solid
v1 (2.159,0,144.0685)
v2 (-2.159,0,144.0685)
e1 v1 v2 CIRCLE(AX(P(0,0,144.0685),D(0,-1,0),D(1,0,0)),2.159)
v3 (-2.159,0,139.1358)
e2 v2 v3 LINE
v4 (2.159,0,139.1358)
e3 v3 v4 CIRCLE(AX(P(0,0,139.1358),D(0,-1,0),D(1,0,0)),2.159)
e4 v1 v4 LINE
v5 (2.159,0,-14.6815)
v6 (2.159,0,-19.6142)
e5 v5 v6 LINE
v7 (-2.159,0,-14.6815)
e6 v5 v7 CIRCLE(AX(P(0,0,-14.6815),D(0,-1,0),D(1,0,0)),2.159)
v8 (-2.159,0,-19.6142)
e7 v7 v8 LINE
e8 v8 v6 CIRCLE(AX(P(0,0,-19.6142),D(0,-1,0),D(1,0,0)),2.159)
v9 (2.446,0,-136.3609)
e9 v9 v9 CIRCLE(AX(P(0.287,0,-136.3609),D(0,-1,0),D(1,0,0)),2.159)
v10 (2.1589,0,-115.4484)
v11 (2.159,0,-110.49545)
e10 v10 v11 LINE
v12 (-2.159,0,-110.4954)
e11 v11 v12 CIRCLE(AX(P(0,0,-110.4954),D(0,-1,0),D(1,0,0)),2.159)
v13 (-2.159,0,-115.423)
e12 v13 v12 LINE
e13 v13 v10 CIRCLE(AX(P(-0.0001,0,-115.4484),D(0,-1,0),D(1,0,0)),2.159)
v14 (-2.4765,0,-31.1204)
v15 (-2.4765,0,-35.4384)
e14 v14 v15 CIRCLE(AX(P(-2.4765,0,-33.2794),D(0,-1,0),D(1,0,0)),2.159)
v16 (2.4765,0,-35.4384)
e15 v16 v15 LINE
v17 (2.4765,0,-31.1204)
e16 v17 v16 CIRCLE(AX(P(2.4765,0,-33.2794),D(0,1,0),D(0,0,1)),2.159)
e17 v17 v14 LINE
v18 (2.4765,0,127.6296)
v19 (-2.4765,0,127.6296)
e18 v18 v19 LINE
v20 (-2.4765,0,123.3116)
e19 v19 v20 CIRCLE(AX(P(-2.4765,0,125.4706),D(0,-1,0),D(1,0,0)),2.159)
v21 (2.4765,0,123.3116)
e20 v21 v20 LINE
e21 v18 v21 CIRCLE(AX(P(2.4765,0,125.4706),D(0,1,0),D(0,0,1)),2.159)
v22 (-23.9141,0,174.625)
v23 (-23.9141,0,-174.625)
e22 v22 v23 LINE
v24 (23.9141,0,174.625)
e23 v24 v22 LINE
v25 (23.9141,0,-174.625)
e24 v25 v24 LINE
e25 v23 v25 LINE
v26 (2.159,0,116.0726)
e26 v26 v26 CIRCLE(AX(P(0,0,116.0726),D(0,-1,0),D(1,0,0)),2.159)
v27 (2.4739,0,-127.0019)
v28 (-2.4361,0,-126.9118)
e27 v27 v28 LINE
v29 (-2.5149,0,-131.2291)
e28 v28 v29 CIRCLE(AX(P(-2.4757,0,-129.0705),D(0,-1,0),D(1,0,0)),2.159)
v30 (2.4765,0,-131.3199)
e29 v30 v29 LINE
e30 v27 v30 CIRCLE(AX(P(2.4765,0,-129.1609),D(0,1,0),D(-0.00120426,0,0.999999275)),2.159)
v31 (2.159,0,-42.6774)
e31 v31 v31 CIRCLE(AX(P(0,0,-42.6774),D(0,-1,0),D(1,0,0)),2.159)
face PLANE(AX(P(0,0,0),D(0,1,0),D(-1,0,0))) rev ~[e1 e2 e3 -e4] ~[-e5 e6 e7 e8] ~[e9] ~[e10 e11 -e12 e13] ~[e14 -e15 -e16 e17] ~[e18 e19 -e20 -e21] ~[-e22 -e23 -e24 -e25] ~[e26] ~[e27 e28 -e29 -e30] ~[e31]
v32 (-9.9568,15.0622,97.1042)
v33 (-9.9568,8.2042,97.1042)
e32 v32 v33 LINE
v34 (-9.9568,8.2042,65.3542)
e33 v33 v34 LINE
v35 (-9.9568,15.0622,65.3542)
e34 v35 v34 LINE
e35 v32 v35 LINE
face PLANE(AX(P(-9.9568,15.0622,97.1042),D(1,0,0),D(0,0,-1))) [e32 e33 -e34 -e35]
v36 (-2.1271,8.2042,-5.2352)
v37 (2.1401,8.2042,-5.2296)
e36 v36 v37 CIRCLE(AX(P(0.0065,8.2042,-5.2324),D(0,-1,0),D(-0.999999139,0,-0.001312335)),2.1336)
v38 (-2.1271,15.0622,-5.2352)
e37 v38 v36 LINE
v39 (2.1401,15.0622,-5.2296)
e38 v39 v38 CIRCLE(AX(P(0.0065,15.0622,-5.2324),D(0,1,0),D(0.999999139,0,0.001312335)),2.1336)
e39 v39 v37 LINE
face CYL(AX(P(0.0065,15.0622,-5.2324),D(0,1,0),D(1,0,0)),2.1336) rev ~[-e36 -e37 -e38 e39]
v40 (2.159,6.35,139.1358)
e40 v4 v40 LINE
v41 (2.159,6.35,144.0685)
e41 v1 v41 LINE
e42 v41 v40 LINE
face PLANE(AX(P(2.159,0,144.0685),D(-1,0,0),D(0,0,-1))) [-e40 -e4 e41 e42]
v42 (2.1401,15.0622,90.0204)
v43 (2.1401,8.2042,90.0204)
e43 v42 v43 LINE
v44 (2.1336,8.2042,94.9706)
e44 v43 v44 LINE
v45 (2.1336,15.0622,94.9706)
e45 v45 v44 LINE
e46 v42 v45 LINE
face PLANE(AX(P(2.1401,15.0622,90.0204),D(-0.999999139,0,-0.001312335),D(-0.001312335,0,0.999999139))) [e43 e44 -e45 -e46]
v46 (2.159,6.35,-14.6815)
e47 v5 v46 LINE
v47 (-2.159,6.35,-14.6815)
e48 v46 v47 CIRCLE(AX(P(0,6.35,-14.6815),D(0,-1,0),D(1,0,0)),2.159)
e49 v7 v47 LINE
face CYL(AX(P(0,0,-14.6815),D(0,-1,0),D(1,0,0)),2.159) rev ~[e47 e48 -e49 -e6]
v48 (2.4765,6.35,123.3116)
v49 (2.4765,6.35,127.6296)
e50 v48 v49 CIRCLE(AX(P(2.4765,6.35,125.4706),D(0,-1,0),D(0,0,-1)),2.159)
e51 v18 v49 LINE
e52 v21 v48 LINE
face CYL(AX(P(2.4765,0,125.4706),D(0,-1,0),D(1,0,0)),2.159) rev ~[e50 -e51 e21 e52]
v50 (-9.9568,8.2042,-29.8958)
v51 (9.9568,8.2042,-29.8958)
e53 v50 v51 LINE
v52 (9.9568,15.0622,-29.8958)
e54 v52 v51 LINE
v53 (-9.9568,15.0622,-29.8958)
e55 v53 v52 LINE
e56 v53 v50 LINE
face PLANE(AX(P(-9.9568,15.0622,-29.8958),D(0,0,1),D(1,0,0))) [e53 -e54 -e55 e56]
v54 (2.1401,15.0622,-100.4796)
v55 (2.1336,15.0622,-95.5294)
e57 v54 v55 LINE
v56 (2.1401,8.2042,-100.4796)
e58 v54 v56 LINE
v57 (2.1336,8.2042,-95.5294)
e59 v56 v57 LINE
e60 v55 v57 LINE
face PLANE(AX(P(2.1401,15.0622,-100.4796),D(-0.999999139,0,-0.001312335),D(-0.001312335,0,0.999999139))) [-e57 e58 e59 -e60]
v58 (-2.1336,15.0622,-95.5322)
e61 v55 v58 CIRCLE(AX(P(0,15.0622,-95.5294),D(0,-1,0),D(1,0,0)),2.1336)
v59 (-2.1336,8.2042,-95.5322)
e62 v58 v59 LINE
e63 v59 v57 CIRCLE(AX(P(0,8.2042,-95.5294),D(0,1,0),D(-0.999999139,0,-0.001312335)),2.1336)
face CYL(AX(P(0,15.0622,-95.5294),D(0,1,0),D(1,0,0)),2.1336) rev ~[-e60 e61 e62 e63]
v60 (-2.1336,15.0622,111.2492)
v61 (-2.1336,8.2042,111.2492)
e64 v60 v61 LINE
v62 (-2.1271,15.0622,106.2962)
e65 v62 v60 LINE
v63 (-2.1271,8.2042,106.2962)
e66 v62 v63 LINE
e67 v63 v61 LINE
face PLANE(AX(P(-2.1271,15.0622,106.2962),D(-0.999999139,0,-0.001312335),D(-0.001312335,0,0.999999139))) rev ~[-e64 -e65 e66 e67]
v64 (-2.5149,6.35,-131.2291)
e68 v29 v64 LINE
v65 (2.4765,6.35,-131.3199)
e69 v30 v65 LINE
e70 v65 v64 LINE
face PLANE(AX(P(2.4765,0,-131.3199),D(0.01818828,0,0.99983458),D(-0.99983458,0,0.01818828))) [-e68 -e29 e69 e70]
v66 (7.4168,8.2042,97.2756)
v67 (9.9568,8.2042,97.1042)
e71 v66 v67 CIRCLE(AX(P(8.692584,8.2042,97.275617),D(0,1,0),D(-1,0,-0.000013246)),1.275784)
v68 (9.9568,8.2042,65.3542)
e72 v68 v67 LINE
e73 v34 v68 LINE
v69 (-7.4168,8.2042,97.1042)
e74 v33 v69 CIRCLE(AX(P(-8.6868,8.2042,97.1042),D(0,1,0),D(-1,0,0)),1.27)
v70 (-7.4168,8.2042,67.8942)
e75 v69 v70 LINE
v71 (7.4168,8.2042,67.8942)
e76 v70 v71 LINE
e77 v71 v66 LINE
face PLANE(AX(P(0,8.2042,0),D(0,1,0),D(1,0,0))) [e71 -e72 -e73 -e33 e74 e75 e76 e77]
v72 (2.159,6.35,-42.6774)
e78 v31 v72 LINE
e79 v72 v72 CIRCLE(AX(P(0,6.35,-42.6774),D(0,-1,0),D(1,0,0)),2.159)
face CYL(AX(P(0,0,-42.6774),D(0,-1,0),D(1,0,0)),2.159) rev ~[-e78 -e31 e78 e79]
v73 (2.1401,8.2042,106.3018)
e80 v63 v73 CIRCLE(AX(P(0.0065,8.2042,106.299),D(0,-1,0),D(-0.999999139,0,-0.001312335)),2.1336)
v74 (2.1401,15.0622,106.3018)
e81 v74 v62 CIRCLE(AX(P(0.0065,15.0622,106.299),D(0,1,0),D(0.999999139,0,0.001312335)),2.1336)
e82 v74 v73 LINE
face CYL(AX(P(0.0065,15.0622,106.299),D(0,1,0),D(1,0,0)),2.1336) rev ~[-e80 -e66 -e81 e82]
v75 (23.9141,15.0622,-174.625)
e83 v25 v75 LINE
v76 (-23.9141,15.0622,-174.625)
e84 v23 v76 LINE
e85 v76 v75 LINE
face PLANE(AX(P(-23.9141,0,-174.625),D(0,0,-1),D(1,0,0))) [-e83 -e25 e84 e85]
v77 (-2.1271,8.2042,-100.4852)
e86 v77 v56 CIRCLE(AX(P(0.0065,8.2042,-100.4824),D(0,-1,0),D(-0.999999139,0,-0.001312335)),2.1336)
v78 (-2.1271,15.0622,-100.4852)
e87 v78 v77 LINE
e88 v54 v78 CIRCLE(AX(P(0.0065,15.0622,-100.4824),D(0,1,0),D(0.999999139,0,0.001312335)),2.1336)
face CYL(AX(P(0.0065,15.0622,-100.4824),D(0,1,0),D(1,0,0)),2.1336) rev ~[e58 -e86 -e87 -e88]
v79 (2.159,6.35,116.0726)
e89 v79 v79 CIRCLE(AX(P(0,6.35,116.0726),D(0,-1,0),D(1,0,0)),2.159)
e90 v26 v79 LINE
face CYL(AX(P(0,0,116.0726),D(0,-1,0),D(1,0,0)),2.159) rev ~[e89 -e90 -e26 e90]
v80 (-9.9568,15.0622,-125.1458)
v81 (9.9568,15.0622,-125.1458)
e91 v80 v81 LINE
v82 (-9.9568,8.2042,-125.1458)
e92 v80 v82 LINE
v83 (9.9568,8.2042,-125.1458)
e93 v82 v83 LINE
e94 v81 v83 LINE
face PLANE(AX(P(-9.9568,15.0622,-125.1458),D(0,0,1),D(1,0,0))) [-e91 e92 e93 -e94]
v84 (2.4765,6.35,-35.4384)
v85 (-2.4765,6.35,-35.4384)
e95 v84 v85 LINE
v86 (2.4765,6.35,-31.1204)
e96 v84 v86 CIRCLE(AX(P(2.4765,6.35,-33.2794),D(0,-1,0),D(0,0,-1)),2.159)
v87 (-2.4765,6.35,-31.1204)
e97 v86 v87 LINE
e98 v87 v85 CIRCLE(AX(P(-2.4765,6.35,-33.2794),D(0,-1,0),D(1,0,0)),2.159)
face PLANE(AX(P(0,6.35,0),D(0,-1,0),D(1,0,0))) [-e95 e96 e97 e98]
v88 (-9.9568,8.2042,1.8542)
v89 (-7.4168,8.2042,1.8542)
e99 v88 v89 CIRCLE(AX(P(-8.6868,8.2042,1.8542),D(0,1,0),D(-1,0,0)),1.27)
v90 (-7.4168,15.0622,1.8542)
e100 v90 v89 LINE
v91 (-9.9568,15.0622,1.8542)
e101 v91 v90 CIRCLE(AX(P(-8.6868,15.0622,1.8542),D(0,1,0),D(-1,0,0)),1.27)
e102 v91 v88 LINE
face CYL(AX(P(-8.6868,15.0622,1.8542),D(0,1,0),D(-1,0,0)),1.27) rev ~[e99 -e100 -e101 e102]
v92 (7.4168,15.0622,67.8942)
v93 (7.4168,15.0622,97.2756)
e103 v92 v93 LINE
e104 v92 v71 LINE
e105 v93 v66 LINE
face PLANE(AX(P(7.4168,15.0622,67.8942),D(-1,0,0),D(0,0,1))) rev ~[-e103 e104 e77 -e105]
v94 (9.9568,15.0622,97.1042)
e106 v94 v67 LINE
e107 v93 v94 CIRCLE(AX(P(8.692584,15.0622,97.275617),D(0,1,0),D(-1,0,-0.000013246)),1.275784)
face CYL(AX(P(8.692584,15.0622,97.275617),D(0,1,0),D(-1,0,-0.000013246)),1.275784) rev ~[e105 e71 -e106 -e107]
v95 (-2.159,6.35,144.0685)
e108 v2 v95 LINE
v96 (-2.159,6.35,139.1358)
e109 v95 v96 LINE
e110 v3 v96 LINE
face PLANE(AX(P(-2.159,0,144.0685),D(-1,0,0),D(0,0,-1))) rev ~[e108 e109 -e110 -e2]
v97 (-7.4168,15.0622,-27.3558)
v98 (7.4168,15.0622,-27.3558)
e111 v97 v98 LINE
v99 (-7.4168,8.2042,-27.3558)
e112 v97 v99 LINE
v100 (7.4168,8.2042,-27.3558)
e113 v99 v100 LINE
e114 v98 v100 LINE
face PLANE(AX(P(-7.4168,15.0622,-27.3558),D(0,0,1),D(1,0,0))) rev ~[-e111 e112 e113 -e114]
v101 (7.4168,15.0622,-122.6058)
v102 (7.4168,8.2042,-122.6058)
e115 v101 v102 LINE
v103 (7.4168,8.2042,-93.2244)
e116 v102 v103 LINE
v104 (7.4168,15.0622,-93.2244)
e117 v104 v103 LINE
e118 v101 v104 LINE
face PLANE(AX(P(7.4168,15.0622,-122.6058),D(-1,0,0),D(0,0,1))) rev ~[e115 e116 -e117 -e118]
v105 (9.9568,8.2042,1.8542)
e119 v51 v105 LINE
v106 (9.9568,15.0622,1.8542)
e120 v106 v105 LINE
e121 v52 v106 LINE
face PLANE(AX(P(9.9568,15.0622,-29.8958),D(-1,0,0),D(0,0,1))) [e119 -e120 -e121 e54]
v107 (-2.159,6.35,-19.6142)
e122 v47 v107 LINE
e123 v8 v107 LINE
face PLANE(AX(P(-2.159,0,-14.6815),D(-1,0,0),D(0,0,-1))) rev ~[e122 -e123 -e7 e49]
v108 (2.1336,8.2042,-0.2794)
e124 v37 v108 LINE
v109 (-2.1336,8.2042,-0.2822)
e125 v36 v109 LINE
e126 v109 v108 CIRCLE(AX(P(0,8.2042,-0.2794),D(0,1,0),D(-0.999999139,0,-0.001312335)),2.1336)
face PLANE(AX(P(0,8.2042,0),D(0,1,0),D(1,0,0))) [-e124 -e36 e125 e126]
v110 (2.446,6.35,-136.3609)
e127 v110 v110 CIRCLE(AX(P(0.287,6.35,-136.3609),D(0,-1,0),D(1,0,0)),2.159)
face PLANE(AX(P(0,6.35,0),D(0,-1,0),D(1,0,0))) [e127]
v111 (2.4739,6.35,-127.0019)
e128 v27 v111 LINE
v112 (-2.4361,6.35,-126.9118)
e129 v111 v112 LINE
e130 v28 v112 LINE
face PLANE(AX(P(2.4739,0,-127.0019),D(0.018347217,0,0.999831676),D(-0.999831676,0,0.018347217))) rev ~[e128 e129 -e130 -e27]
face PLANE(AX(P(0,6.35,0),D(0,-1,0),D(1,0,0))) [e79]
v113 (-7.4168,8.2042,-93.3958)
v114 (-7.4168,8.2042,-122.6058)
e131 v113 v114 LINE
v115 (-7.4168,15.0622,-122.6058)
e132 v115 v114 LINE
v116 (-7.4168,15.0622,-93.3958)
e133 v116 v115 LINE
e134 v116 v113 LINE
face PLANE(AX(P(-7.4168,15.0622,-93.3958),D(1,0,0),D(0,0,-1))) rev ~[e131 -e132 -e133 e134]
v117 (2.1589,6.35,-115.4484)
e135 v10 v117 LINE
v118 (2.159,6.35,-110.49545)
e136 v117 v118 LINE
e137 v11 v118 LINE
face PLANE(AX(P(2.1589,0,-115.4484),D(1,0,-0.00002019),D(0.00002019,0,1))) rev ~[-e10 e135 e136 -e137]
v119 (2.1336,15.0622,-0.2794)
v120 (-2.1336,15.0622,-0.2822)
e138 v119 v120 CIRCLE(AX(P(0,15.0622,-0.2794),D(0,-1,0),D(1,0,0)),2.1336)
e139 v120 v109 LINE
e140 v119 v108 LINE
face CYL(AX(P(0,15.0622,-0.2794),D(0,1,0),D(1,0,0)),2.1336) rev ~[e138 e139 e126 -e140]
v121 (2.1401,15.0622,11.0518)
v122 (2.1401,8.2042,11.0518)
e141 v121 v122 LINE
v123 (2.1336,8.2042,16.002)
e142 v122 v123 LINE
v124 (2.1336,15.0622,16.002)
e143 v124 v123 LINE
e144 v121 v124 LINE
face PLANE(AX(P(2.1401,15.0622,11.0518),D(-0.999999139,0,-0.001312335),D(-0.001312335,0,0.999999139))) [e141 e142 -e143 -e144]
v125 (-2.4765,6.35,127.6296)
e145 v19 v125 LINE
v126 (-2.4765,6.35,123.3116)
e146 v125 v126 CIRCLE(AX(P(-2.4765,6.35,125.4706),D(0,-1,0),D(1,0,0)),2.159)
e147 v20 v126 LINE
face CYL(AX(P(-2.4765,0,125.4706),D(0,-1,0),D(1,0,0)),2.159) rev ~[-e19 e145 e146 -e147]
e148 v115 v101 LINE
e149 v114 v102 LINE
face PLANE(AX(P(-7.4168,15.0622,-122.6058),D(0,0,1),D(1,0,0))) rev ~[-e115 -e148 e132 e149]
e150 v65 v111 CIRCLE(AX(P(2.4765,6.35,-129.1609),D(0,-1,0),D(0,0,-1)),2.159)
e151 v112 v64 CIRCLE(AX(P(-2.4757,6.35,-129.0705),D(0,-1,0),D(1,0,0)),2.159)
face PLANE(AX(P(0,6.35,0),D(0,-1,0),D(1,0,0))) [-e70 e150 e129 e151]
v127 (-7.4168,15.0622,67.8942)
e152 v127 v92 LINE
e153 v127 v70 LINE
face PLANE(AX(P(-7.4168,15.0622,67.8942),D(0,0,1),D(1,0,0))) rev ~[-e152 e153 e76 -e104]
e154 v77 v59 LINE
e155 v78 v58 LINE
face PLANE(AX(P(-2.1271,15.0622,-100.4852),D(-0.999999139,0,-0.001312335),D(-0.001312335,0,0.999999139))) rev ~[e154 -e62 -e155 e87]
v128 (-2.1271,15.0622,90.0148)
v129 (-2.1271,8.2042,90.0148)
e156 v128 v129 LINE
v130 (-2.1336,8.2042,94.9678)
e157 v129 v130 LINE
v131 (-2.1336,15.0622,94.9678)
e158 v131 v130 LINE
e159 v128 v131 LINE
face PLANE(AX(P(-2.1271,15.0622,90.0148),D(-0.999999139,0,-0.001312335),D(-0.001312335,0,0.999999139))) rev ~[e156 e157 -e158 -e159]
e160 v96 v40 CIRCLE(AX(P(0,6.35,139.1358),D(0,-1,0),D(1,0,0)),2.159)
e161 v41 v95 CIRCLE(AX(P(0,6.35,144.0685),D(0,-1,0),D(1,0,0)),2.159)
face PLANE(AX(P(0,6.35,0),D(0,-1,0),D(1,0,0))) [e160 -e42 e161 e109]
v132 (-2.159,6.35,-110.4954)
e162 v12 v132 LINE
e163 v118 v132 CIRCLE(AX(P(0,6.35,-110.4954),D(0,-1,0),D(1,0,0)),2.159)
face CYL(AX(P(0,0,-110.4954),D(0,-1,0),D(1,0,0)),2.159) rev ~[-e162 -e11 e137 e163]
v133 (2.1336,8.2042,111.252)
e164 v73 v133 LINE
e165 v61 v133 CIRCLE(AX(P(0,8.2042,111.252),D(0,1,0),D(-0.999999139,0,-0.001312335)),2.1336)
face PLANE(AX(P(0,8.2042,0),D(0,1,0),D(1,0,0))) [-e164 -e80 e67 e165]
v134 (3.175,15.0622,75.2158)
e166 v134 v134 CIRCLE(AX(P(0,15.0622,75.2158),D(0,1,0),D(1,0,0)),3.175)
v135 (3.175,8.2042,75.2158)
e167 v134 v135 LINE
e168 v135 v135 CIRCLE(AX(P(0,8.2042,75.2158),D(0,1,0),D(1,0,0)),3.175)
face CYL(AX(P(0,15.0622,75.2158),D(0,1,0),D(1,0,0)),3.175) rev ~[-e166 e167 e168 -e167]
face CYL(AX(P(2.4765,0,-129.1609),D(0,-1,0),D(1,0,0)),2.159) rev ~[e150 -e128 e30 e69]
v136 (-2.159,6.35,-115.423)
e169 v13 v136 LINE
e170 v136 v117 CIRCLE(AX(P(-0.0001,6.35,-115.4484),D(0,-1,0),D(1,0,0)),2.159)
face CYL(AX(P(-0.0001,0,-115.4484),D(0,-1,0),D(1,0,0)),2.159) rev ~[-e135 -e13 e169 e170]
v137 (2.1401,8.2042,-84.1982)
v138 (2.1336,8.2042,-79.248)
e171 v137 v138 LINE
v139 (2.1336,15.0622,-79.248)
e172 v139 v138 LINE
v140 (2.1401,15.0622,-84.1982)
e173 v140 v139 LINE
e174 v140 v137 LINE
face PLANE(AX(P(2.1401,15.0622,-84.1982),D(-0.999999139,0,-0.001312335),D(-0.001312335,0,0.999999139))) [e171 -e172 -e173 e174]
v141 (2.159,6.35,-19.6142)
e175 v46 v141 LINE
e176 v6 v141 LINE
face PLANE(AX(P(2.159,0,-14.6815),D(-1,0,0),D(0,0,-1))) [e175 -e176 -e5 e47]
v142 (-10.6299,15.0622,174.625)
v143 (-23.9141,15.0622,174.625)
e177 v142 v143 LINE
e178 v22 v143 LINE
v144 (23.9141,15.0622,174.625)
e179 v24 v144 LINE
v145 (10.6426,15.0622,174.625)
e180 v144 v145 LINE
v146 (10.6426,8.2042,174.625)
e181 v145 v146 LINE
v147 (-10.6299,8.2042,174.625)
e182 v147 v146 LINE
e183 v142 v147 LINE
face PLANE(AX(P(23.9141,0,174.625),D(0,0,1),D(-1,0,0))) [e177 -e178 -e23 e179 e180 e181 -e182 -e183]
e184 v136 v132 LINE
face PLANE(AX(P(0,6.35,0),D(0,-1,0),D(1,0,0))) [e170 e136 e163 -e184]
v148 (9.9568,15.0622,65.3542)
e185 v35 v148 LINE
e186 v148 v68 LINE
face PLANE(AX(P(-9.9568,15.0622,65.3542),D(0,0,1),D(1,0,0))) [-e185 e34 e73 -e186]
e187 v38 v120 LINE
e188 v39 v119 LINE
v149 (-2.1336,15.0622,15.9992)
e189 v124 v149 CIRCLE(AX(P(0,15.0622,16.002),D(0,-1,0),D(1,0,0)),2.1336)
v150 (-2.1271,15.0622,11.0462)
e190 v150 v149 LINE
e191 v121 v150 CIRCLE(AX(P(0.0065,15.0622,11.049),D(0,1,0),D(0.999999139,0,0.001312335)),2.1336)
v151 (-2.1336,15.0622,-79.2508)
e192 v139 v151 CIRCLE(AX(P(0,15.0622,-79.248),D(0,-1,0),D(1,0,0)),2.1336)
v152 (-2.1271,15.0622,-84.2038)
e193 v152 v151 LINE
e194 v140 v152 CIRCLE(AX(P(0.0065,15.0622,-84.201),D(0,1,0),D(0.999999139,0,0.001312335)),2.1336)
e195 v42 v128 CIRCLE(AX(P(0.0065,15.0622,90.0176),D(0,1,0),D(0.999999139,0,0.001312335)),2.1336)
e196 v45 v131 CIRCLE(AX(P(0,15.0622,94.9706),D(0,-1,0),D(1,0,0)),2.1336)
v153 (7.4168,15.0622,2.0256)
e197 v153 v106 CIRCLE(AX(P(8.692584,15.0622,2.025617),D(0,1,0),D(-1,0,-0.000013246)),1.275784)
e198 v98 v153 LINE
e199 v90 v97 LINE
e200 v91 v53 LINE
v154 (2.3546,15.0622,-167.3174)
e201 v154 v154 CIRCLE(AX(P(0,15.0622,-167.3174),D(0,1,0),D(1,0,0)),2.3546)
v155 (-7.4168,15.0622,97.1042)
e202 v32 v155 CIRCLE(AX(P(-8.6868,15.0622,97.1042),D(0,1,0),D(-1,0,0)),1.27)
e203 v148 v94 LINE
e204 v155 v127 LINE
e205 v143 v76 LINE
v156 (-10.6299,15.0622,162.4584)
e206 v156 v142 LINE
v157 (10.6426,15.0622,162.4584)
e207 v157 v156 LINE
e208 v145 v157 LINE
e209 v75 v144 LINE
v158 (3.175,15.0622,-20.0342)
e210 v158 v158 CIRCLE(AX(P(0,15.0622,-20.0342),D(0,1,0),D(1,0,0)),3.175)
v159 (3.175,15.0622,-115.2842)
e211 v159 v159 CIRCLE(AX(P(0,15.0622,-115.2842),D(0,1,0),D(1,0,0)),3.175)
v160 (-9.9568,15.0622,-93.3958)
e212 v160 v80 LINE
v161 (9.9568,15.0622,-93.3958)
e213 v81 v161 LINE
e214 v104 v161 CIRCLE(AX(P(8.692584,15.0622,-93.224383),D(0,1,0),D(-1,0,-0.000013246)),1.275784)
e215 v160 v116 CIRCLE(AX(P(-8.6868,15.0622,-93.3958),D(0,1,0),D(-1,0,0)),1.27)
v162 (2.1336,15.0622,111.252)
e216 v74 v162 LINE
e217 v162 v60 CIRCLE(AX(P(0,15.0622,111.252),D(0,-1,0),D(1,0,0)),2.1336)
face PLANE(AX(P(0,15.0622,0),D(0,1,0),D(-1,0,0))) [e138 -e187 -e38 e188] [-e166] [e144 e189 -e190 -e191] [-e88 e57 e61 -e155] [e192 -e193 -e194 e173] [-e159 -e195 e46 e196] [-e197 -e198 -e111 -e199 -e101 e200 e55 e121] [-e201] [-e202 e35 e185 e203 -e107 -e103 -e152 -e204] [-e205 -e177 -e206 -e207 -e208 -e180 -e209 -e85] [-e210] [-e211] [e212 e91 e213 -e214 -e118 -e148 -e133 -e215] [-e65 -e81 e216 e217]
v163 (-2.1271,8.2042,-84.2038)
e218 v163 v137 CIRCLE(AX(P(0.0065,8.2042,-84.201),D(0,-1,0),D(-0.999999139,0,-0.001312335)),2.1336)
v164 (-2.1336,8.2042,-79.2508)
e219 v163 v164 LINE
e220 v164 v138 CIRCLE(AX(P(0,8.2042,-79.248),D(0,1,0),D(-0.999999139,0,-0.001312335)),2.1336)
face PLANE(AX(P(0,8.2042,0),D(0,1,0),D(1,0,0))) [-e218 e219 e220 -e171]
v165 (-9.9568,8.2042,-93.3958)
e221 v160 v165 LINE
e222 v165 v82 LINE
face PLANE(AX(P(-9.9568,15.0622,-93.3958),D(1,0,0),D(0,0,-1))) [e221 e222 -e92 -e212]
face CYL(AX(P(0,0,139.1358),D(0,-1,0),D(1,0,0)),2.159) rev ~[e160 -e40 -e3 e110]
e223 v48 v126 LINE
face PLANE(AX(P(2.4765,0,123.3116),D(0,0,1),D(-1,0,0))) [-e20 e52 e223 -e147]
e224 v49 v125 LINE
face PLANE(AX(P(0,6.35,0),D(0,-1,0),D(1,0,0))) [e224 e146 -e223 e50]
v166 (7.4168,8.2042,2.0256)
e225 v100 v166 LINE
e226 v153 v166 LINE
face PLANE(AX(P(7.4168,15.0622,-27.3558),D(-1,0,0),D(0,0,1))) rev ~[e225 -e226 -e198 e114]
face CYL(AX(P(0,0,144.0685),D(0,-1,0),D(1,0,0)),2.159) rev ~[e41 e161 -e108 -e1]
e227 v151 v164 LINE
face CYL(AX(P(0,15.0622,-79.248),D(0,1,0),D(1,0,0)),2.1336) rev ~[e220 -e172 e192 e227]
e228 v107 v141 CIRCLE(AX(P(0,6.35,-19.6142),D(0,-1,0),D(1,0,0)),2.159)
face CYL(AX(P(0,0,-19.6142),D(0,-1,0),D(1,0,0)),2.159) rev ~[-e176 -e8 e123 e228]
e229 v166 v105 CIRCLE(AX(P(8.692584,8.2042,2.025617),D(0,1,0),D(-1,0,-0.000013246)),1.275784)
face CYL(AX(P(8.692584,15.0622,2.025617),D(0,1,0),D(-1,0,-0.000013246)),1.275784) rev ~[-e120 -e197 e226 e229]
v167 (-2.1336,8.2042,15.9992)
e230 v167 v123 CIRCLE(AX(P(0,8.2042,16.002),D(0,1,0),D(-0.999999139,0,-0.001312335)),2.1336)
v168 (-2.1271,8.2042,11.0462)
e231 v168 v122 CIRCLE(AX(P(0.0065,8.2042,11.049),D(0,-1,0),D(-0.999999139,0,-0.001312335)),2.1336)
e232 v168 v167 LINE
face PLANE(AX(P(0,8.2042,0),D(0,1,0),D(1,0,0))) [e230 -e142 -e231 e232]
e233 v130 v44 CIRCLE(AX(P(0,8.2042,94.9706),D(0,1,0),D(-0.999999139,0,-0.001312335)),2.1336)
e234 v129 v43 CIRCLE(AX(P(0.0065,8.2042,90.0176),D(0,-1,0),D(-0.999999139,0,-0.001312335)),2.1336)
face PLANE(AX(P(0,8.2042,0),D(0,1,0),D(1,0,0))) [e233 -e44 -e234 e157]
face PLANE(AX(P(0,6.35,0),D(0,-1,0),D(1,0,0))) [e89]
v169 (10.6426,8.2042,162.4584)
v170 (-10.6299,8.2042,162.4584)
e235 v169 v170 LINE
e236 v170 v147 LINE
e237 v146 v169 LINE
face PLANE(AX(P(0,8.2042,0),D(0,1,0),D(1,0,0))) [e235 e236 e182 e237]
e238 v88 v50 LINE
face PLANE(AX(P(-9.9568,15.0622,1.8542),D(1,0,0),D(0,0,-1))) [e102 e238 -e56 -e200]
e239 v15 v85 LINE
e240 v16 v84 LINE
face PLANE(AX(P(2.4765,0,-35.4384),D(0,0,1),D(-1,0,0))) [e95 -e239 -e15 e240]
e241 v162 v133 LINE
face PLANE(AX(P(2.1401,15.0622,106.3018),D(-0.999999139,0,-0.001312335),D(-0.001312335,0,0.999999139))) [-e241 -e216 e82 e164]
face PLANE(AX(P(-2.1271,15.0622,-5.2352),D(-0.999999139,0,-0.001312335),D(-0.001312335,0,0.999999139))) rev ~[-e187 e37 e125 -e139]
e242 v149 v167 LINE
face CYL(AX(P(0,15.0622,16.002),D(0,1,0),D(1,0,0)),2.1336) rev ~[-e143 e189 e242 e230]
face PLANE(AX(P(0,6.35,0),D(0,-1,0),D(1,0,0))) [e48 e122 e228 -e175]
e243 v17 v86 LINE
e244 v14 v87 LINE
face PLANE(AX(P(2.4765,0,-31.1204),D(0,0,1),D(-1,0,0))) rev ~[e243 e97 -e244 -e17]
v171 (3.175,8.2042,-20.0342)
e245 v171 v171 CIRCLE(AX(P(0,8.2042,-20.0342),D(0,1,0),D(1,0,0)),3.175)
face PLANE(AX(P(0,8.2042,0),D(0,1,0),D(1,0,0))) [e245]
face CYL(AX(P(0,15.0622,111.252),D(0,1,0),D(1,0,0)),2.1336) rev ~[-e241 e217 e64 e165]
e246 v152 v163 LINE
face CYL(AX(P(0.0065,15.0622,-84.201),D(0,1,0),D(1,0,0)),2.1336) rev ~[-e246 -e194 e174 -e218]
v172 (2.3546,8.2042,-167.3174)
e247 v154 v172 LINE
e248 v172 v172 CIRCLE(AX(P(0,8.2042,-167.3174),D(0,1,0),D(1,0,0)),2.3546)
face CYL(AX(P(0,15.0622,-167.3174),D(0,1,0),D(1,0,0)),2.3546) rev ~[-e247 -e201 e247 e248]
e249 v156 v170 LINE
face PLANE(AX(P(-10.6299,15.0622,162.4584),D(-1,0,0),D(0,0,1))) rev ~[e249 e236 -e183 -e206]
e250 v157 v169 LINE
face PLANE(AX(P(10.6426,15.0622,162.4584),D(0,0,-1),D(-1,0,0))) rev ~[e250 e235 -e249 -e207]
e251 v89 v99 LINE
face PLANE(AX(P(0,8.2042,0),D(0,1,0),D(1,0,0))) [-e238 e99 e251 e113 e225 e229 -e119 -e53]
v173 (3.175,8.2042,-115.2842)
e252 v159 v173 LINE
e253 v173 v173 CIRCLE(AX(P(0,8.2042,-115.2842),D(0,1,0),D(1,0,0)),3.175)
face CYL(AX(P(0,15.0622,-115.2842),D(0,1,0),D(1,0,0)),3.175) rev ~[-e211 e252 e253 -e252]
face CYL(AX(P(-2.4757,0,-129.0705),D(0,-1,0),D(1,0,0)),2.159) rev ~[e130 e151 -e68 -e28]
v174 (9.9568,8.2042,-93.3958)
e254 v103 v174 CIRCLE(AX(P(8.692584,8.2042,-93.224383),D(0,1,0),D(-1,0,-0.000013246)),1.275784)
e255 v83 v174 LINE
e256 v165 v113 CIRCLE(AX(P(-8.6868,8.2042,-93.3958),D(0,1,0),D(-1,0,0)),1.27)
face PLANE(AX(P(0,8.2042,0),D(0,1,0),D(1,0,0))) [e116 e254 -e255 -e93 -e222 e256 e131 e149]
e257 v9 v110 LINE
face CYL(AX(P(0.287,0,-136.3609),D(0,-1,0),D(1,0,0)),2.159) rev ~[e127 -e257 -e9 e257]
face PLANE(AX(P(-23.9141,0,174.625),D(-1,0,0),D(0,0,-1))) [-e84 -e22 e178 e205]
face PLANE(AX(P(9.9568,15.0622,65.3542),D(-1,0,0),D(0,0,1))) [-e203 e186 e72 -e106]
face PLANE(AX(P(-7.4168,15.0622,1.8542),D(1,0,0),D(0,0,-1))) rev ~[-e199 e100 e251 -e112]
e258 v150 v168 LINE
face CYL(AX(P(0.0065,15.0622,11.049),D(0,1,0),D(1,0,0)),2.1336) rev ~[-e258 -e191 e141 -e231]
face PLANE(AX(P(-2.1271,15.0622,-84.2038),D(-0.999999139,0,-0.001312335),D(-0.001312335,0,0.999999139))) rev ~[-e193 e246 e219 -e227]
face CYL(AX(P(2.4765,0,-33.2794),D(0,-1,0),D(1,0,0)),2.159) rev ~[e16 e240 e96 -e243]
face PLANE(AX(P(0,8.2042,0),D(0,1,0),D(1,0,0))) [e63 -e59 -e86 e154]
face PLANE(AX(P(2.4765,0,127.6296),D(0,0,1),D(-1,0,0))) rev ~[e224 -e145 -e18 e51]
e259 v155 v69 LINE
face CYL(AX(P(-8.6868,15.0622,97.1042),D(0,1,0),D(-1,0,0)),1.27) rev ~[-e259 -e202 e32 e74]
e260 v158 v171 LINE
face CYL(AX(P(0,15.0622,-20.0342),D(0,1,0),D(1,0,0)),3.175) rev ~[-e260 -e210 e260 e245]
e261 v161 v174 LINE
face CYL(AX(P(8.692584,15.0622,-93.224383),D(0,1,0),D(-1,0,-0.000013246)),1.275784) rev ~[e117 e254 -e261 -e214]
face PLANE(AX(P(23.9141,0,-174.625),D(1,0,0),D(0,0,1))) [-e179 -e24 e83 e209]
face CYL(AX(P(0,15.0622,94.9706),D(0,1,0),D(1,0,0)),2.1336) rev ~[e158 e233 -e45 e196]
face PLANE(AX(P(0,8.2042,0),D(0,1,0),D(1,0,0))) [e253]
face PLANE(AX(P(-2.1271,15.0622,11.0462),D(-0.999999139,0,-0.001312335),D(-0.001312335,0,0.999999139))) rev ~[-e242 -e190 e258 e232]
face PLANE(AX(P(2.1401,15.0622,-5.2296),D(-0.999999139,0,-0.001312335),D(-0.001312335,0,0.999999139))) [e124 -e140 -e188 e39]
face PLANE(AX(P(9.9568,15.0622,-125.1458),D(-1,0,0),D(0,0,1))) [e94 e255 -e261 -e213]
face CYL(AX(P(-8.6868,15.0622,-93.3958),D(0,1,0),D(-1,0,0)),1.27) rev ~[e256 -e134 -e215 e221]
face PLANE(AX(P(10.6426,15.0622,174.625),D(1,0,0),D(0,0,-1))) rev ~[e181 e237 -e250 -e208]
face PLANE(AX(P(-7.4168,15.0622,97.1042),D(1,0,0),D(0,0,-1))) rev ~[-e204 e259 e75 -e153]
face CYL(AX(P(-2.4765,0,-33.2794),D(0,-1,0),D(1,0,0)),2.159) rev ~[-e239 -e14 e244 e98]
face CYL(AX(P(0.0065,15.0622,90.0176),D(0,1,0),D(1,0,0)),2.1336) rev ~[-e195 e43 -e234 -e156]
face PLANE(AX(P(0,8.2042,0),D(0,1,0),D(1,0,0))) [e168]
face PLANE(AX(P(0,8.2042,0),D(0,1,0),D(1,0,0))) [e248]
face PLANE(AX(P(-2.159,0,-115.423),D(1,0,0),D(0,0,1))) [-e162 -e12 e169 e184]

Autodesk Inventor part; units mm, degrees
ref_plane "YZ Plane" through (0, 0, 0) normal (1, 0, 0) x (0, 1, 0)
ref_plane "XZ Plane" through (0, 0, 0) normal (0, 1, 0) x (-1, 0, 0)
ref_plane "XY Plane" through (0, 0, 0) normal (0, 0, 1) x (1, 0, 0)
sketch "Sketch1" plane through (0, 0, 0) normal (0, 1, 0) x (-1, 0, 0)
  line L0 (-23.9141, 174.625) -> (23.9141, 174.625)
  line L1 (23.9141, 174.625) -> (23.9141, -174.625)
  line L2 (23.9141, -174.625) -> (-23.9141, -174.625)
  line L3 (-23.9141, -174.625) -> (-23.9141, 174.625)
  line L4 (-23.9141, 174.625) -> (23.9141, -174.625) construction
  line L5 (23.9141, 174.625) -> (-23.9141, -174.625) construction
  point P0 (0, 0)
  dimension "d0" = 47.8282
  dimension "d1" = 349.25
extrude "Extrusion1" add sketch "Sketch1" along normal blind 15.0622
sketch "Sketch2" plane through (0, 15.0622, 0) normal (0, 1, 0) x (1, 0, 0)
  line L0 (-10.6299, -174.625) -> (10.6426, -174.625)
  line L1 (10.6426, -174.625) -> (10.6426, -162.4584)
  line L2 (10.6426, -162.4584) -> (-10.6299, -162.4584)
  line L3 (-10.6299, -162.4584) -> (-10.6299, -174.625)
  line L4 (-23.9141, -174.625) -> (23.9141, -174.625) projected
  line L5 (-23.9141, 174.625) -> (-23.9141, -174.625) projected
  point P0 (0, 0)
  point P1 (0, -132.6268)
  dimension "d4" = 21.2725
  dimension "d5" = 12.1666
  dimension "d6" = 13.2842
  dimension "d7" = 23.9141
extrude "Extrusion2" cut sketch "Sketch2" against normal blind 6.858
sketch "Sketch3" plane through (0, 15.0622, 0) normal (0, 1, 0) x (1, 0, 0)
  circle A0 centre (0, -111.252) radius 2.1336
  line L0 (-10.6299, -162.4584) -> (10.6426, -162.4584) projected
  circle A1 centre (0.0065, -106.299) radius 2.1336
  line L1 (-2.1271, -106.2962) -> (-2.1336, -111.2492)
  line L2 (2.1401, -106.3018) -> (2.1336, -111.2548)
  line L3 (0.0064, -93.8649) -> (0.0064, -74.1654) construction
  circle A2 centre (0, -94.9706) radius 2.1336
  circle A3 centre (0.0065, -90.0176) radius 2.1336
  line L4 (-2.1271, -90.0148) -> (-2.1336, -94.9678)
  line L5 (2.1401, -90.0204) -> (2.1336, -94.9734)
  circle A4 centre (0, -16.002) radius 2.1336
  circle A5 centre (0.0065, -11.049) radius 2.1336
  line L6 (-2.1271, -11.0462) -> (-2.1336, -15.9992)
  line L7 (2.1401, -11.0518) -> (2.1336, -16.0048)
  circle A6 centre (0, 0.2794) radius 2.1336
  circle A7 centre (0.0065, 5.2324) radius 2.1336
  line L8 (-2.1271, 5.2352) -> (-2.1336, 0.2822)
  line L9 (2.1401, 5.2296) -> (2.1336, 0.2766)
  circle A8 centre (0, 79.248) radius 2.1336
  circle A9 centre (0.0065, 84.201) radius 2.1336
  line L10 (-2.1271, 84.2038) -> (-2.1336, 79.2508)
  line L11 (2.1401, 84.1982) -> (2.1336, 79.2452)
  circle A10 centre (0, 95.5294) radius 2.1336
  circle A11 centre (0.0065, 100.4824) radius 2.1336
  line L12 (-2.1271, 100.4852) -> (-2.1336, 95.5322)
  line L13 (2.1401, 100.4796) -> (2.1336, 95.5266)
  point P0 (0, 0)
  point P1 (0.0064, 1.3851)
  point P2 (0.0064, 96.6351)
  dimension "d10" = 4.2672
  dimension "d11" = 51.2064
  dimension "d12" = 4.2672
  dimension "d13" = 9.2202
  dimension "d18" = 16.2814
  dimension "d34" = 95.25
sketch "Sketch4" plane through (0, 15.0622, 0) normal (0, 1, 0) x (1, 0, 0)
  line L0 (-9.9568, -97.1042) -> (-9.9568, -65.3542)
  line L1 (-9.9568, -65.3542) -> (9.9568, -65.3542)
  line L2 (9.9568, -65.3542) -> (9.9568, -97.1042)
  arc A0 (-2.1336, -111.2492) -> (2.1336, -111.2548) centre (0, -111.252) ccw construction
  line L3 (-7.4168, -97.1042) -> (-7.4168, -67.8942)
  line L4 (-7.4168, -67.8942) -> (7.4168, -67.8942)
  line L5 (7.4168, -67.8942) -> (7.4168, -97.2756)
  line L6 (-16.8514, -97.1042) -> (16.8246, -97.1042) construction
  arc A1 (-2.1336, -94.9678) -> (2.1336, -94.9734) centre (0, -94.9706) ccw construction
  arc A2 (-9.9568, -97.1042) -> (-7.4168, -97.1042) centre (-8.6868, -97.1042) ccw
  arc A3 (7.4168, -97.2756) -> (9.9568, -97.1042) centre (8.6926, -97.2756) ccw
  circle A4 centre (0, -75.2158) radius 3.175
  line L7 (0, 24.1867) -> (0, 36.4789) construction
  arc A5 (-9.9568, -1.8542) -> (-7.4168, -1.8542) centre (-8.6868, -1.8542) ccw
  arc A6 (7.4168, -2.0256) -> (9.9568, -1.8542) centre (8.6926, -2.0256) ccw
  circle A7 centre (0, 20.0342) radius 3.175
  line L8 (-7.4168, -1.8542) -> (-7.4168, 27.3558)
  line L9 (7.4168, 27.3558) -> (7.4168, -2.0256)
  line L10 (-7.4168, 27.3558) -> (7.4168, 27.3558)
  line L11 (-9.9568, 29.8958) -> (9.9568, 29.8958)
  line L12 (9.9568, 29.8958) -> (9.9568, -1.8542)
  line L13 (-9.9568, -1.8542) -> (-9.9568, 29.8958)
  arc A8 (-9.9568, 93.3958) -> (-7.4168, 93.3958) centre (-8.6868, 93.3958) ccw
  arc A9 (7.4168, 93.2244) -> (9.9568, 93.3958) centre (8.6926, 93.2244) ccw
  circle A10 centre (0, 115.2842) radius 3.175
  line L14 (-7.4168, 93.3958) -> (-7.4168, 122.6058)
  line L15 (7.4168, 122.6058) -> (7.4168, 93.2244)
  line L16 (-7.4168, 122.6058) -> (7.4168, 122.6058)
  line L17 (-9.9568, 125.1458) -> (9.9568, 125.1458)
  line L18 (9.9568, 125.1458) -> (9.9568, 93.3958)
  line L19 (-9.9568, 93.3958) -> (-9.9568, 125.1458)
  point P0 (0, 0)
  point P1 (16.8246, -1.8542)
  point P2 (16.8246, 93.3958)
  dimension "d25" = 31.75
  dimension "d26" = 19.9136
  dimension "d28" = 9.9568
  dimension "d29" = 2.54
  dimension "d30" = 0
  dimension "d31" = 6.35
  dimension "d41" = 95.25
extrude "Extrusion5" cut sketch "Sketch4" against normal blind 6.858
extrude "Extrusion6" cut sketch "Sketch3" against normal blind 6.858
sketch "Sketch5" plane through (0, 15.0622, 0) normal (0, 1, 0) x (1, 0, 0)
  circle A0 centre (0, 167.3174) radius 2.3546
  line L0 (23.9141, 174.625) -> (-23.9141, 174.625) projected
  point P0 (0, 0)
  dimension "d50" = 4.7092
  dimension "d51" = 4.953
extrude "Extrusion7" cut sketch "Sketch5" against normal blind 6.858
sketch "Sketch6" plane through (0, 0, 0) normal (0, -1, 0) x (1, 0, 0)
  circle A0 centre (0, 144.0685) radius 2.159
  circle A1 centre (0, 139.1358) radius 2.159
  line L0 (2.159, 144.0685) -> (2.159, 139.1358)
  line L1 (-2.159, 144.0685) -> (-2.159, 139.1358)
  line L2 (2.4765, 127.6296) -> (-2.4765, 127.6296)
  circle A2 centre (2.4765, 125.4706) radius 2.159
  circle A3 centre (-2.4765, 125.4706) radius 2.159
  line L3 (-0.0635, 119.2045) -> (-0.0635, 135.9892) construction
  line L4 (23.9141, -174.625) -> (23.9141, 174.625) projected
  line L5 (2.4765, 123.3116) -> (-2.4765, 123.3116)
  line L6 (-23.9141, 174.625) -> (-23.9141, -174.625) projected
  circle A4 centre (0, 116.0726) radius 2.159
  line L7 (0, 93.2461) -> (0, 84.503) construction
  line L8 (2.4765, -35.4384) -> (-2.4765, -35.4384)
  circle A5 centre (2.4765, -33.2794) radius 2.159
  circle A6 centre (-2.4765, -33.2794) radius 2.159
  circle A7 centre (0, -19.6142) radius 2.159
  circle A8 centre (0, -42.6774) radius 2.159
  line L9 (2.159, -14.6815) -> (2.159, -19.6142)
  line L10 (-2.159, -14.6815) -> (-2.159, -19.6142)
  line L11 (-0.0635, -39.5455) -> (-0.0635, -22.7608) construction
  line L12 (2.4765, -31.1204) -> (-2.4765, -31.1204)
  circle A9 centre (0, -14.6815) radius 2.159
  line L13 (0, -44.8364) -> (0, -108.3364) construction
  point P0 (0, 0)
  dimension "d54" = 4.318
  dimension "d55" = 4.318
  dimension "d56" = 9.2507
  dimension "d61" = 9.3472
  dimension "d62" = 4.318
  dimension "d63" = 4.318
  dimension "d64" = 9.271
  dimension "d65" = 19.2786
  dimension "d66" = 23.9141
  dimension "d67" = 4.318
  dimension "d68" = 5.08
  dimension "d71" = 158.75
  dimension "d76" = 63.5
sketch "Sketch7" plane through (0, 0, 0) normal (0, -1, 0) x (1, 0, 0)
  circle A0 centre (0, -110.4954) radius 2.159
  line L0 (23.9141, 174.625) -> (-23.9141, 174.625) projected
  line L1 (-23.9141, 174.625) -> (-23.9141, -174.625) projected
  line L2 (-23.9141, -174.625) -> (23.9141, -174.625) projected
  line L3 (23.9141, -174.625) -> (23.9141, 174.625) projected
  circle A1 centre (0, -42.6774) radius 2.159 projected
  circle A2 centre (-0.0001, -115.4484) radius 2.159
  line L4 (2.1589, -115.4484) -> (2.159, -110.4955)
  line L5 (-2.159, -115.423) -> (-2.159, -110.4954)
  circle A3 centre (2.4765, -129.1609) radius 2.159
  circle A4 centre (-2.4757, -129.0705) radius 2.159
  line L6 (2.4765, -131.3199) -> (-2.5149, -131.2291)
  line L7 (2.4739, -127.0019) -> (-2.4361, -126.9118)
  circle A5 centre (0.287, -136.3609) radius 2.159
  line L8 (-23.9141, 174.625) -> (-23.9141, -174.625) projected
  point P0 (0, 0)
  dimension "d79" = 4.318
  dimension "d80" = 63.5
  dimension "d81" = 4.318
  dimension "d82" = 9.271
  dimension "d83" = 4.318
  dimension "d84" = 4.318
  dimension "d85" = 9.271
  dimension "d86" = 21.4376
  dimension "d87" = 9.3472
  dimension "d88" = 4.318
  dimension "d89" = 5.08
extrude "Extrusion10" cut sketch "Sketch6" against normal blind 6.35
extrude "Extrusion11" cut sketch "Sketch7" against normal blind 6.35 contours A0 | L4 A2 L5 A0 | A2 | A3 L6 A4 L7 | A4 | A5
properties part number "drawer rails"
